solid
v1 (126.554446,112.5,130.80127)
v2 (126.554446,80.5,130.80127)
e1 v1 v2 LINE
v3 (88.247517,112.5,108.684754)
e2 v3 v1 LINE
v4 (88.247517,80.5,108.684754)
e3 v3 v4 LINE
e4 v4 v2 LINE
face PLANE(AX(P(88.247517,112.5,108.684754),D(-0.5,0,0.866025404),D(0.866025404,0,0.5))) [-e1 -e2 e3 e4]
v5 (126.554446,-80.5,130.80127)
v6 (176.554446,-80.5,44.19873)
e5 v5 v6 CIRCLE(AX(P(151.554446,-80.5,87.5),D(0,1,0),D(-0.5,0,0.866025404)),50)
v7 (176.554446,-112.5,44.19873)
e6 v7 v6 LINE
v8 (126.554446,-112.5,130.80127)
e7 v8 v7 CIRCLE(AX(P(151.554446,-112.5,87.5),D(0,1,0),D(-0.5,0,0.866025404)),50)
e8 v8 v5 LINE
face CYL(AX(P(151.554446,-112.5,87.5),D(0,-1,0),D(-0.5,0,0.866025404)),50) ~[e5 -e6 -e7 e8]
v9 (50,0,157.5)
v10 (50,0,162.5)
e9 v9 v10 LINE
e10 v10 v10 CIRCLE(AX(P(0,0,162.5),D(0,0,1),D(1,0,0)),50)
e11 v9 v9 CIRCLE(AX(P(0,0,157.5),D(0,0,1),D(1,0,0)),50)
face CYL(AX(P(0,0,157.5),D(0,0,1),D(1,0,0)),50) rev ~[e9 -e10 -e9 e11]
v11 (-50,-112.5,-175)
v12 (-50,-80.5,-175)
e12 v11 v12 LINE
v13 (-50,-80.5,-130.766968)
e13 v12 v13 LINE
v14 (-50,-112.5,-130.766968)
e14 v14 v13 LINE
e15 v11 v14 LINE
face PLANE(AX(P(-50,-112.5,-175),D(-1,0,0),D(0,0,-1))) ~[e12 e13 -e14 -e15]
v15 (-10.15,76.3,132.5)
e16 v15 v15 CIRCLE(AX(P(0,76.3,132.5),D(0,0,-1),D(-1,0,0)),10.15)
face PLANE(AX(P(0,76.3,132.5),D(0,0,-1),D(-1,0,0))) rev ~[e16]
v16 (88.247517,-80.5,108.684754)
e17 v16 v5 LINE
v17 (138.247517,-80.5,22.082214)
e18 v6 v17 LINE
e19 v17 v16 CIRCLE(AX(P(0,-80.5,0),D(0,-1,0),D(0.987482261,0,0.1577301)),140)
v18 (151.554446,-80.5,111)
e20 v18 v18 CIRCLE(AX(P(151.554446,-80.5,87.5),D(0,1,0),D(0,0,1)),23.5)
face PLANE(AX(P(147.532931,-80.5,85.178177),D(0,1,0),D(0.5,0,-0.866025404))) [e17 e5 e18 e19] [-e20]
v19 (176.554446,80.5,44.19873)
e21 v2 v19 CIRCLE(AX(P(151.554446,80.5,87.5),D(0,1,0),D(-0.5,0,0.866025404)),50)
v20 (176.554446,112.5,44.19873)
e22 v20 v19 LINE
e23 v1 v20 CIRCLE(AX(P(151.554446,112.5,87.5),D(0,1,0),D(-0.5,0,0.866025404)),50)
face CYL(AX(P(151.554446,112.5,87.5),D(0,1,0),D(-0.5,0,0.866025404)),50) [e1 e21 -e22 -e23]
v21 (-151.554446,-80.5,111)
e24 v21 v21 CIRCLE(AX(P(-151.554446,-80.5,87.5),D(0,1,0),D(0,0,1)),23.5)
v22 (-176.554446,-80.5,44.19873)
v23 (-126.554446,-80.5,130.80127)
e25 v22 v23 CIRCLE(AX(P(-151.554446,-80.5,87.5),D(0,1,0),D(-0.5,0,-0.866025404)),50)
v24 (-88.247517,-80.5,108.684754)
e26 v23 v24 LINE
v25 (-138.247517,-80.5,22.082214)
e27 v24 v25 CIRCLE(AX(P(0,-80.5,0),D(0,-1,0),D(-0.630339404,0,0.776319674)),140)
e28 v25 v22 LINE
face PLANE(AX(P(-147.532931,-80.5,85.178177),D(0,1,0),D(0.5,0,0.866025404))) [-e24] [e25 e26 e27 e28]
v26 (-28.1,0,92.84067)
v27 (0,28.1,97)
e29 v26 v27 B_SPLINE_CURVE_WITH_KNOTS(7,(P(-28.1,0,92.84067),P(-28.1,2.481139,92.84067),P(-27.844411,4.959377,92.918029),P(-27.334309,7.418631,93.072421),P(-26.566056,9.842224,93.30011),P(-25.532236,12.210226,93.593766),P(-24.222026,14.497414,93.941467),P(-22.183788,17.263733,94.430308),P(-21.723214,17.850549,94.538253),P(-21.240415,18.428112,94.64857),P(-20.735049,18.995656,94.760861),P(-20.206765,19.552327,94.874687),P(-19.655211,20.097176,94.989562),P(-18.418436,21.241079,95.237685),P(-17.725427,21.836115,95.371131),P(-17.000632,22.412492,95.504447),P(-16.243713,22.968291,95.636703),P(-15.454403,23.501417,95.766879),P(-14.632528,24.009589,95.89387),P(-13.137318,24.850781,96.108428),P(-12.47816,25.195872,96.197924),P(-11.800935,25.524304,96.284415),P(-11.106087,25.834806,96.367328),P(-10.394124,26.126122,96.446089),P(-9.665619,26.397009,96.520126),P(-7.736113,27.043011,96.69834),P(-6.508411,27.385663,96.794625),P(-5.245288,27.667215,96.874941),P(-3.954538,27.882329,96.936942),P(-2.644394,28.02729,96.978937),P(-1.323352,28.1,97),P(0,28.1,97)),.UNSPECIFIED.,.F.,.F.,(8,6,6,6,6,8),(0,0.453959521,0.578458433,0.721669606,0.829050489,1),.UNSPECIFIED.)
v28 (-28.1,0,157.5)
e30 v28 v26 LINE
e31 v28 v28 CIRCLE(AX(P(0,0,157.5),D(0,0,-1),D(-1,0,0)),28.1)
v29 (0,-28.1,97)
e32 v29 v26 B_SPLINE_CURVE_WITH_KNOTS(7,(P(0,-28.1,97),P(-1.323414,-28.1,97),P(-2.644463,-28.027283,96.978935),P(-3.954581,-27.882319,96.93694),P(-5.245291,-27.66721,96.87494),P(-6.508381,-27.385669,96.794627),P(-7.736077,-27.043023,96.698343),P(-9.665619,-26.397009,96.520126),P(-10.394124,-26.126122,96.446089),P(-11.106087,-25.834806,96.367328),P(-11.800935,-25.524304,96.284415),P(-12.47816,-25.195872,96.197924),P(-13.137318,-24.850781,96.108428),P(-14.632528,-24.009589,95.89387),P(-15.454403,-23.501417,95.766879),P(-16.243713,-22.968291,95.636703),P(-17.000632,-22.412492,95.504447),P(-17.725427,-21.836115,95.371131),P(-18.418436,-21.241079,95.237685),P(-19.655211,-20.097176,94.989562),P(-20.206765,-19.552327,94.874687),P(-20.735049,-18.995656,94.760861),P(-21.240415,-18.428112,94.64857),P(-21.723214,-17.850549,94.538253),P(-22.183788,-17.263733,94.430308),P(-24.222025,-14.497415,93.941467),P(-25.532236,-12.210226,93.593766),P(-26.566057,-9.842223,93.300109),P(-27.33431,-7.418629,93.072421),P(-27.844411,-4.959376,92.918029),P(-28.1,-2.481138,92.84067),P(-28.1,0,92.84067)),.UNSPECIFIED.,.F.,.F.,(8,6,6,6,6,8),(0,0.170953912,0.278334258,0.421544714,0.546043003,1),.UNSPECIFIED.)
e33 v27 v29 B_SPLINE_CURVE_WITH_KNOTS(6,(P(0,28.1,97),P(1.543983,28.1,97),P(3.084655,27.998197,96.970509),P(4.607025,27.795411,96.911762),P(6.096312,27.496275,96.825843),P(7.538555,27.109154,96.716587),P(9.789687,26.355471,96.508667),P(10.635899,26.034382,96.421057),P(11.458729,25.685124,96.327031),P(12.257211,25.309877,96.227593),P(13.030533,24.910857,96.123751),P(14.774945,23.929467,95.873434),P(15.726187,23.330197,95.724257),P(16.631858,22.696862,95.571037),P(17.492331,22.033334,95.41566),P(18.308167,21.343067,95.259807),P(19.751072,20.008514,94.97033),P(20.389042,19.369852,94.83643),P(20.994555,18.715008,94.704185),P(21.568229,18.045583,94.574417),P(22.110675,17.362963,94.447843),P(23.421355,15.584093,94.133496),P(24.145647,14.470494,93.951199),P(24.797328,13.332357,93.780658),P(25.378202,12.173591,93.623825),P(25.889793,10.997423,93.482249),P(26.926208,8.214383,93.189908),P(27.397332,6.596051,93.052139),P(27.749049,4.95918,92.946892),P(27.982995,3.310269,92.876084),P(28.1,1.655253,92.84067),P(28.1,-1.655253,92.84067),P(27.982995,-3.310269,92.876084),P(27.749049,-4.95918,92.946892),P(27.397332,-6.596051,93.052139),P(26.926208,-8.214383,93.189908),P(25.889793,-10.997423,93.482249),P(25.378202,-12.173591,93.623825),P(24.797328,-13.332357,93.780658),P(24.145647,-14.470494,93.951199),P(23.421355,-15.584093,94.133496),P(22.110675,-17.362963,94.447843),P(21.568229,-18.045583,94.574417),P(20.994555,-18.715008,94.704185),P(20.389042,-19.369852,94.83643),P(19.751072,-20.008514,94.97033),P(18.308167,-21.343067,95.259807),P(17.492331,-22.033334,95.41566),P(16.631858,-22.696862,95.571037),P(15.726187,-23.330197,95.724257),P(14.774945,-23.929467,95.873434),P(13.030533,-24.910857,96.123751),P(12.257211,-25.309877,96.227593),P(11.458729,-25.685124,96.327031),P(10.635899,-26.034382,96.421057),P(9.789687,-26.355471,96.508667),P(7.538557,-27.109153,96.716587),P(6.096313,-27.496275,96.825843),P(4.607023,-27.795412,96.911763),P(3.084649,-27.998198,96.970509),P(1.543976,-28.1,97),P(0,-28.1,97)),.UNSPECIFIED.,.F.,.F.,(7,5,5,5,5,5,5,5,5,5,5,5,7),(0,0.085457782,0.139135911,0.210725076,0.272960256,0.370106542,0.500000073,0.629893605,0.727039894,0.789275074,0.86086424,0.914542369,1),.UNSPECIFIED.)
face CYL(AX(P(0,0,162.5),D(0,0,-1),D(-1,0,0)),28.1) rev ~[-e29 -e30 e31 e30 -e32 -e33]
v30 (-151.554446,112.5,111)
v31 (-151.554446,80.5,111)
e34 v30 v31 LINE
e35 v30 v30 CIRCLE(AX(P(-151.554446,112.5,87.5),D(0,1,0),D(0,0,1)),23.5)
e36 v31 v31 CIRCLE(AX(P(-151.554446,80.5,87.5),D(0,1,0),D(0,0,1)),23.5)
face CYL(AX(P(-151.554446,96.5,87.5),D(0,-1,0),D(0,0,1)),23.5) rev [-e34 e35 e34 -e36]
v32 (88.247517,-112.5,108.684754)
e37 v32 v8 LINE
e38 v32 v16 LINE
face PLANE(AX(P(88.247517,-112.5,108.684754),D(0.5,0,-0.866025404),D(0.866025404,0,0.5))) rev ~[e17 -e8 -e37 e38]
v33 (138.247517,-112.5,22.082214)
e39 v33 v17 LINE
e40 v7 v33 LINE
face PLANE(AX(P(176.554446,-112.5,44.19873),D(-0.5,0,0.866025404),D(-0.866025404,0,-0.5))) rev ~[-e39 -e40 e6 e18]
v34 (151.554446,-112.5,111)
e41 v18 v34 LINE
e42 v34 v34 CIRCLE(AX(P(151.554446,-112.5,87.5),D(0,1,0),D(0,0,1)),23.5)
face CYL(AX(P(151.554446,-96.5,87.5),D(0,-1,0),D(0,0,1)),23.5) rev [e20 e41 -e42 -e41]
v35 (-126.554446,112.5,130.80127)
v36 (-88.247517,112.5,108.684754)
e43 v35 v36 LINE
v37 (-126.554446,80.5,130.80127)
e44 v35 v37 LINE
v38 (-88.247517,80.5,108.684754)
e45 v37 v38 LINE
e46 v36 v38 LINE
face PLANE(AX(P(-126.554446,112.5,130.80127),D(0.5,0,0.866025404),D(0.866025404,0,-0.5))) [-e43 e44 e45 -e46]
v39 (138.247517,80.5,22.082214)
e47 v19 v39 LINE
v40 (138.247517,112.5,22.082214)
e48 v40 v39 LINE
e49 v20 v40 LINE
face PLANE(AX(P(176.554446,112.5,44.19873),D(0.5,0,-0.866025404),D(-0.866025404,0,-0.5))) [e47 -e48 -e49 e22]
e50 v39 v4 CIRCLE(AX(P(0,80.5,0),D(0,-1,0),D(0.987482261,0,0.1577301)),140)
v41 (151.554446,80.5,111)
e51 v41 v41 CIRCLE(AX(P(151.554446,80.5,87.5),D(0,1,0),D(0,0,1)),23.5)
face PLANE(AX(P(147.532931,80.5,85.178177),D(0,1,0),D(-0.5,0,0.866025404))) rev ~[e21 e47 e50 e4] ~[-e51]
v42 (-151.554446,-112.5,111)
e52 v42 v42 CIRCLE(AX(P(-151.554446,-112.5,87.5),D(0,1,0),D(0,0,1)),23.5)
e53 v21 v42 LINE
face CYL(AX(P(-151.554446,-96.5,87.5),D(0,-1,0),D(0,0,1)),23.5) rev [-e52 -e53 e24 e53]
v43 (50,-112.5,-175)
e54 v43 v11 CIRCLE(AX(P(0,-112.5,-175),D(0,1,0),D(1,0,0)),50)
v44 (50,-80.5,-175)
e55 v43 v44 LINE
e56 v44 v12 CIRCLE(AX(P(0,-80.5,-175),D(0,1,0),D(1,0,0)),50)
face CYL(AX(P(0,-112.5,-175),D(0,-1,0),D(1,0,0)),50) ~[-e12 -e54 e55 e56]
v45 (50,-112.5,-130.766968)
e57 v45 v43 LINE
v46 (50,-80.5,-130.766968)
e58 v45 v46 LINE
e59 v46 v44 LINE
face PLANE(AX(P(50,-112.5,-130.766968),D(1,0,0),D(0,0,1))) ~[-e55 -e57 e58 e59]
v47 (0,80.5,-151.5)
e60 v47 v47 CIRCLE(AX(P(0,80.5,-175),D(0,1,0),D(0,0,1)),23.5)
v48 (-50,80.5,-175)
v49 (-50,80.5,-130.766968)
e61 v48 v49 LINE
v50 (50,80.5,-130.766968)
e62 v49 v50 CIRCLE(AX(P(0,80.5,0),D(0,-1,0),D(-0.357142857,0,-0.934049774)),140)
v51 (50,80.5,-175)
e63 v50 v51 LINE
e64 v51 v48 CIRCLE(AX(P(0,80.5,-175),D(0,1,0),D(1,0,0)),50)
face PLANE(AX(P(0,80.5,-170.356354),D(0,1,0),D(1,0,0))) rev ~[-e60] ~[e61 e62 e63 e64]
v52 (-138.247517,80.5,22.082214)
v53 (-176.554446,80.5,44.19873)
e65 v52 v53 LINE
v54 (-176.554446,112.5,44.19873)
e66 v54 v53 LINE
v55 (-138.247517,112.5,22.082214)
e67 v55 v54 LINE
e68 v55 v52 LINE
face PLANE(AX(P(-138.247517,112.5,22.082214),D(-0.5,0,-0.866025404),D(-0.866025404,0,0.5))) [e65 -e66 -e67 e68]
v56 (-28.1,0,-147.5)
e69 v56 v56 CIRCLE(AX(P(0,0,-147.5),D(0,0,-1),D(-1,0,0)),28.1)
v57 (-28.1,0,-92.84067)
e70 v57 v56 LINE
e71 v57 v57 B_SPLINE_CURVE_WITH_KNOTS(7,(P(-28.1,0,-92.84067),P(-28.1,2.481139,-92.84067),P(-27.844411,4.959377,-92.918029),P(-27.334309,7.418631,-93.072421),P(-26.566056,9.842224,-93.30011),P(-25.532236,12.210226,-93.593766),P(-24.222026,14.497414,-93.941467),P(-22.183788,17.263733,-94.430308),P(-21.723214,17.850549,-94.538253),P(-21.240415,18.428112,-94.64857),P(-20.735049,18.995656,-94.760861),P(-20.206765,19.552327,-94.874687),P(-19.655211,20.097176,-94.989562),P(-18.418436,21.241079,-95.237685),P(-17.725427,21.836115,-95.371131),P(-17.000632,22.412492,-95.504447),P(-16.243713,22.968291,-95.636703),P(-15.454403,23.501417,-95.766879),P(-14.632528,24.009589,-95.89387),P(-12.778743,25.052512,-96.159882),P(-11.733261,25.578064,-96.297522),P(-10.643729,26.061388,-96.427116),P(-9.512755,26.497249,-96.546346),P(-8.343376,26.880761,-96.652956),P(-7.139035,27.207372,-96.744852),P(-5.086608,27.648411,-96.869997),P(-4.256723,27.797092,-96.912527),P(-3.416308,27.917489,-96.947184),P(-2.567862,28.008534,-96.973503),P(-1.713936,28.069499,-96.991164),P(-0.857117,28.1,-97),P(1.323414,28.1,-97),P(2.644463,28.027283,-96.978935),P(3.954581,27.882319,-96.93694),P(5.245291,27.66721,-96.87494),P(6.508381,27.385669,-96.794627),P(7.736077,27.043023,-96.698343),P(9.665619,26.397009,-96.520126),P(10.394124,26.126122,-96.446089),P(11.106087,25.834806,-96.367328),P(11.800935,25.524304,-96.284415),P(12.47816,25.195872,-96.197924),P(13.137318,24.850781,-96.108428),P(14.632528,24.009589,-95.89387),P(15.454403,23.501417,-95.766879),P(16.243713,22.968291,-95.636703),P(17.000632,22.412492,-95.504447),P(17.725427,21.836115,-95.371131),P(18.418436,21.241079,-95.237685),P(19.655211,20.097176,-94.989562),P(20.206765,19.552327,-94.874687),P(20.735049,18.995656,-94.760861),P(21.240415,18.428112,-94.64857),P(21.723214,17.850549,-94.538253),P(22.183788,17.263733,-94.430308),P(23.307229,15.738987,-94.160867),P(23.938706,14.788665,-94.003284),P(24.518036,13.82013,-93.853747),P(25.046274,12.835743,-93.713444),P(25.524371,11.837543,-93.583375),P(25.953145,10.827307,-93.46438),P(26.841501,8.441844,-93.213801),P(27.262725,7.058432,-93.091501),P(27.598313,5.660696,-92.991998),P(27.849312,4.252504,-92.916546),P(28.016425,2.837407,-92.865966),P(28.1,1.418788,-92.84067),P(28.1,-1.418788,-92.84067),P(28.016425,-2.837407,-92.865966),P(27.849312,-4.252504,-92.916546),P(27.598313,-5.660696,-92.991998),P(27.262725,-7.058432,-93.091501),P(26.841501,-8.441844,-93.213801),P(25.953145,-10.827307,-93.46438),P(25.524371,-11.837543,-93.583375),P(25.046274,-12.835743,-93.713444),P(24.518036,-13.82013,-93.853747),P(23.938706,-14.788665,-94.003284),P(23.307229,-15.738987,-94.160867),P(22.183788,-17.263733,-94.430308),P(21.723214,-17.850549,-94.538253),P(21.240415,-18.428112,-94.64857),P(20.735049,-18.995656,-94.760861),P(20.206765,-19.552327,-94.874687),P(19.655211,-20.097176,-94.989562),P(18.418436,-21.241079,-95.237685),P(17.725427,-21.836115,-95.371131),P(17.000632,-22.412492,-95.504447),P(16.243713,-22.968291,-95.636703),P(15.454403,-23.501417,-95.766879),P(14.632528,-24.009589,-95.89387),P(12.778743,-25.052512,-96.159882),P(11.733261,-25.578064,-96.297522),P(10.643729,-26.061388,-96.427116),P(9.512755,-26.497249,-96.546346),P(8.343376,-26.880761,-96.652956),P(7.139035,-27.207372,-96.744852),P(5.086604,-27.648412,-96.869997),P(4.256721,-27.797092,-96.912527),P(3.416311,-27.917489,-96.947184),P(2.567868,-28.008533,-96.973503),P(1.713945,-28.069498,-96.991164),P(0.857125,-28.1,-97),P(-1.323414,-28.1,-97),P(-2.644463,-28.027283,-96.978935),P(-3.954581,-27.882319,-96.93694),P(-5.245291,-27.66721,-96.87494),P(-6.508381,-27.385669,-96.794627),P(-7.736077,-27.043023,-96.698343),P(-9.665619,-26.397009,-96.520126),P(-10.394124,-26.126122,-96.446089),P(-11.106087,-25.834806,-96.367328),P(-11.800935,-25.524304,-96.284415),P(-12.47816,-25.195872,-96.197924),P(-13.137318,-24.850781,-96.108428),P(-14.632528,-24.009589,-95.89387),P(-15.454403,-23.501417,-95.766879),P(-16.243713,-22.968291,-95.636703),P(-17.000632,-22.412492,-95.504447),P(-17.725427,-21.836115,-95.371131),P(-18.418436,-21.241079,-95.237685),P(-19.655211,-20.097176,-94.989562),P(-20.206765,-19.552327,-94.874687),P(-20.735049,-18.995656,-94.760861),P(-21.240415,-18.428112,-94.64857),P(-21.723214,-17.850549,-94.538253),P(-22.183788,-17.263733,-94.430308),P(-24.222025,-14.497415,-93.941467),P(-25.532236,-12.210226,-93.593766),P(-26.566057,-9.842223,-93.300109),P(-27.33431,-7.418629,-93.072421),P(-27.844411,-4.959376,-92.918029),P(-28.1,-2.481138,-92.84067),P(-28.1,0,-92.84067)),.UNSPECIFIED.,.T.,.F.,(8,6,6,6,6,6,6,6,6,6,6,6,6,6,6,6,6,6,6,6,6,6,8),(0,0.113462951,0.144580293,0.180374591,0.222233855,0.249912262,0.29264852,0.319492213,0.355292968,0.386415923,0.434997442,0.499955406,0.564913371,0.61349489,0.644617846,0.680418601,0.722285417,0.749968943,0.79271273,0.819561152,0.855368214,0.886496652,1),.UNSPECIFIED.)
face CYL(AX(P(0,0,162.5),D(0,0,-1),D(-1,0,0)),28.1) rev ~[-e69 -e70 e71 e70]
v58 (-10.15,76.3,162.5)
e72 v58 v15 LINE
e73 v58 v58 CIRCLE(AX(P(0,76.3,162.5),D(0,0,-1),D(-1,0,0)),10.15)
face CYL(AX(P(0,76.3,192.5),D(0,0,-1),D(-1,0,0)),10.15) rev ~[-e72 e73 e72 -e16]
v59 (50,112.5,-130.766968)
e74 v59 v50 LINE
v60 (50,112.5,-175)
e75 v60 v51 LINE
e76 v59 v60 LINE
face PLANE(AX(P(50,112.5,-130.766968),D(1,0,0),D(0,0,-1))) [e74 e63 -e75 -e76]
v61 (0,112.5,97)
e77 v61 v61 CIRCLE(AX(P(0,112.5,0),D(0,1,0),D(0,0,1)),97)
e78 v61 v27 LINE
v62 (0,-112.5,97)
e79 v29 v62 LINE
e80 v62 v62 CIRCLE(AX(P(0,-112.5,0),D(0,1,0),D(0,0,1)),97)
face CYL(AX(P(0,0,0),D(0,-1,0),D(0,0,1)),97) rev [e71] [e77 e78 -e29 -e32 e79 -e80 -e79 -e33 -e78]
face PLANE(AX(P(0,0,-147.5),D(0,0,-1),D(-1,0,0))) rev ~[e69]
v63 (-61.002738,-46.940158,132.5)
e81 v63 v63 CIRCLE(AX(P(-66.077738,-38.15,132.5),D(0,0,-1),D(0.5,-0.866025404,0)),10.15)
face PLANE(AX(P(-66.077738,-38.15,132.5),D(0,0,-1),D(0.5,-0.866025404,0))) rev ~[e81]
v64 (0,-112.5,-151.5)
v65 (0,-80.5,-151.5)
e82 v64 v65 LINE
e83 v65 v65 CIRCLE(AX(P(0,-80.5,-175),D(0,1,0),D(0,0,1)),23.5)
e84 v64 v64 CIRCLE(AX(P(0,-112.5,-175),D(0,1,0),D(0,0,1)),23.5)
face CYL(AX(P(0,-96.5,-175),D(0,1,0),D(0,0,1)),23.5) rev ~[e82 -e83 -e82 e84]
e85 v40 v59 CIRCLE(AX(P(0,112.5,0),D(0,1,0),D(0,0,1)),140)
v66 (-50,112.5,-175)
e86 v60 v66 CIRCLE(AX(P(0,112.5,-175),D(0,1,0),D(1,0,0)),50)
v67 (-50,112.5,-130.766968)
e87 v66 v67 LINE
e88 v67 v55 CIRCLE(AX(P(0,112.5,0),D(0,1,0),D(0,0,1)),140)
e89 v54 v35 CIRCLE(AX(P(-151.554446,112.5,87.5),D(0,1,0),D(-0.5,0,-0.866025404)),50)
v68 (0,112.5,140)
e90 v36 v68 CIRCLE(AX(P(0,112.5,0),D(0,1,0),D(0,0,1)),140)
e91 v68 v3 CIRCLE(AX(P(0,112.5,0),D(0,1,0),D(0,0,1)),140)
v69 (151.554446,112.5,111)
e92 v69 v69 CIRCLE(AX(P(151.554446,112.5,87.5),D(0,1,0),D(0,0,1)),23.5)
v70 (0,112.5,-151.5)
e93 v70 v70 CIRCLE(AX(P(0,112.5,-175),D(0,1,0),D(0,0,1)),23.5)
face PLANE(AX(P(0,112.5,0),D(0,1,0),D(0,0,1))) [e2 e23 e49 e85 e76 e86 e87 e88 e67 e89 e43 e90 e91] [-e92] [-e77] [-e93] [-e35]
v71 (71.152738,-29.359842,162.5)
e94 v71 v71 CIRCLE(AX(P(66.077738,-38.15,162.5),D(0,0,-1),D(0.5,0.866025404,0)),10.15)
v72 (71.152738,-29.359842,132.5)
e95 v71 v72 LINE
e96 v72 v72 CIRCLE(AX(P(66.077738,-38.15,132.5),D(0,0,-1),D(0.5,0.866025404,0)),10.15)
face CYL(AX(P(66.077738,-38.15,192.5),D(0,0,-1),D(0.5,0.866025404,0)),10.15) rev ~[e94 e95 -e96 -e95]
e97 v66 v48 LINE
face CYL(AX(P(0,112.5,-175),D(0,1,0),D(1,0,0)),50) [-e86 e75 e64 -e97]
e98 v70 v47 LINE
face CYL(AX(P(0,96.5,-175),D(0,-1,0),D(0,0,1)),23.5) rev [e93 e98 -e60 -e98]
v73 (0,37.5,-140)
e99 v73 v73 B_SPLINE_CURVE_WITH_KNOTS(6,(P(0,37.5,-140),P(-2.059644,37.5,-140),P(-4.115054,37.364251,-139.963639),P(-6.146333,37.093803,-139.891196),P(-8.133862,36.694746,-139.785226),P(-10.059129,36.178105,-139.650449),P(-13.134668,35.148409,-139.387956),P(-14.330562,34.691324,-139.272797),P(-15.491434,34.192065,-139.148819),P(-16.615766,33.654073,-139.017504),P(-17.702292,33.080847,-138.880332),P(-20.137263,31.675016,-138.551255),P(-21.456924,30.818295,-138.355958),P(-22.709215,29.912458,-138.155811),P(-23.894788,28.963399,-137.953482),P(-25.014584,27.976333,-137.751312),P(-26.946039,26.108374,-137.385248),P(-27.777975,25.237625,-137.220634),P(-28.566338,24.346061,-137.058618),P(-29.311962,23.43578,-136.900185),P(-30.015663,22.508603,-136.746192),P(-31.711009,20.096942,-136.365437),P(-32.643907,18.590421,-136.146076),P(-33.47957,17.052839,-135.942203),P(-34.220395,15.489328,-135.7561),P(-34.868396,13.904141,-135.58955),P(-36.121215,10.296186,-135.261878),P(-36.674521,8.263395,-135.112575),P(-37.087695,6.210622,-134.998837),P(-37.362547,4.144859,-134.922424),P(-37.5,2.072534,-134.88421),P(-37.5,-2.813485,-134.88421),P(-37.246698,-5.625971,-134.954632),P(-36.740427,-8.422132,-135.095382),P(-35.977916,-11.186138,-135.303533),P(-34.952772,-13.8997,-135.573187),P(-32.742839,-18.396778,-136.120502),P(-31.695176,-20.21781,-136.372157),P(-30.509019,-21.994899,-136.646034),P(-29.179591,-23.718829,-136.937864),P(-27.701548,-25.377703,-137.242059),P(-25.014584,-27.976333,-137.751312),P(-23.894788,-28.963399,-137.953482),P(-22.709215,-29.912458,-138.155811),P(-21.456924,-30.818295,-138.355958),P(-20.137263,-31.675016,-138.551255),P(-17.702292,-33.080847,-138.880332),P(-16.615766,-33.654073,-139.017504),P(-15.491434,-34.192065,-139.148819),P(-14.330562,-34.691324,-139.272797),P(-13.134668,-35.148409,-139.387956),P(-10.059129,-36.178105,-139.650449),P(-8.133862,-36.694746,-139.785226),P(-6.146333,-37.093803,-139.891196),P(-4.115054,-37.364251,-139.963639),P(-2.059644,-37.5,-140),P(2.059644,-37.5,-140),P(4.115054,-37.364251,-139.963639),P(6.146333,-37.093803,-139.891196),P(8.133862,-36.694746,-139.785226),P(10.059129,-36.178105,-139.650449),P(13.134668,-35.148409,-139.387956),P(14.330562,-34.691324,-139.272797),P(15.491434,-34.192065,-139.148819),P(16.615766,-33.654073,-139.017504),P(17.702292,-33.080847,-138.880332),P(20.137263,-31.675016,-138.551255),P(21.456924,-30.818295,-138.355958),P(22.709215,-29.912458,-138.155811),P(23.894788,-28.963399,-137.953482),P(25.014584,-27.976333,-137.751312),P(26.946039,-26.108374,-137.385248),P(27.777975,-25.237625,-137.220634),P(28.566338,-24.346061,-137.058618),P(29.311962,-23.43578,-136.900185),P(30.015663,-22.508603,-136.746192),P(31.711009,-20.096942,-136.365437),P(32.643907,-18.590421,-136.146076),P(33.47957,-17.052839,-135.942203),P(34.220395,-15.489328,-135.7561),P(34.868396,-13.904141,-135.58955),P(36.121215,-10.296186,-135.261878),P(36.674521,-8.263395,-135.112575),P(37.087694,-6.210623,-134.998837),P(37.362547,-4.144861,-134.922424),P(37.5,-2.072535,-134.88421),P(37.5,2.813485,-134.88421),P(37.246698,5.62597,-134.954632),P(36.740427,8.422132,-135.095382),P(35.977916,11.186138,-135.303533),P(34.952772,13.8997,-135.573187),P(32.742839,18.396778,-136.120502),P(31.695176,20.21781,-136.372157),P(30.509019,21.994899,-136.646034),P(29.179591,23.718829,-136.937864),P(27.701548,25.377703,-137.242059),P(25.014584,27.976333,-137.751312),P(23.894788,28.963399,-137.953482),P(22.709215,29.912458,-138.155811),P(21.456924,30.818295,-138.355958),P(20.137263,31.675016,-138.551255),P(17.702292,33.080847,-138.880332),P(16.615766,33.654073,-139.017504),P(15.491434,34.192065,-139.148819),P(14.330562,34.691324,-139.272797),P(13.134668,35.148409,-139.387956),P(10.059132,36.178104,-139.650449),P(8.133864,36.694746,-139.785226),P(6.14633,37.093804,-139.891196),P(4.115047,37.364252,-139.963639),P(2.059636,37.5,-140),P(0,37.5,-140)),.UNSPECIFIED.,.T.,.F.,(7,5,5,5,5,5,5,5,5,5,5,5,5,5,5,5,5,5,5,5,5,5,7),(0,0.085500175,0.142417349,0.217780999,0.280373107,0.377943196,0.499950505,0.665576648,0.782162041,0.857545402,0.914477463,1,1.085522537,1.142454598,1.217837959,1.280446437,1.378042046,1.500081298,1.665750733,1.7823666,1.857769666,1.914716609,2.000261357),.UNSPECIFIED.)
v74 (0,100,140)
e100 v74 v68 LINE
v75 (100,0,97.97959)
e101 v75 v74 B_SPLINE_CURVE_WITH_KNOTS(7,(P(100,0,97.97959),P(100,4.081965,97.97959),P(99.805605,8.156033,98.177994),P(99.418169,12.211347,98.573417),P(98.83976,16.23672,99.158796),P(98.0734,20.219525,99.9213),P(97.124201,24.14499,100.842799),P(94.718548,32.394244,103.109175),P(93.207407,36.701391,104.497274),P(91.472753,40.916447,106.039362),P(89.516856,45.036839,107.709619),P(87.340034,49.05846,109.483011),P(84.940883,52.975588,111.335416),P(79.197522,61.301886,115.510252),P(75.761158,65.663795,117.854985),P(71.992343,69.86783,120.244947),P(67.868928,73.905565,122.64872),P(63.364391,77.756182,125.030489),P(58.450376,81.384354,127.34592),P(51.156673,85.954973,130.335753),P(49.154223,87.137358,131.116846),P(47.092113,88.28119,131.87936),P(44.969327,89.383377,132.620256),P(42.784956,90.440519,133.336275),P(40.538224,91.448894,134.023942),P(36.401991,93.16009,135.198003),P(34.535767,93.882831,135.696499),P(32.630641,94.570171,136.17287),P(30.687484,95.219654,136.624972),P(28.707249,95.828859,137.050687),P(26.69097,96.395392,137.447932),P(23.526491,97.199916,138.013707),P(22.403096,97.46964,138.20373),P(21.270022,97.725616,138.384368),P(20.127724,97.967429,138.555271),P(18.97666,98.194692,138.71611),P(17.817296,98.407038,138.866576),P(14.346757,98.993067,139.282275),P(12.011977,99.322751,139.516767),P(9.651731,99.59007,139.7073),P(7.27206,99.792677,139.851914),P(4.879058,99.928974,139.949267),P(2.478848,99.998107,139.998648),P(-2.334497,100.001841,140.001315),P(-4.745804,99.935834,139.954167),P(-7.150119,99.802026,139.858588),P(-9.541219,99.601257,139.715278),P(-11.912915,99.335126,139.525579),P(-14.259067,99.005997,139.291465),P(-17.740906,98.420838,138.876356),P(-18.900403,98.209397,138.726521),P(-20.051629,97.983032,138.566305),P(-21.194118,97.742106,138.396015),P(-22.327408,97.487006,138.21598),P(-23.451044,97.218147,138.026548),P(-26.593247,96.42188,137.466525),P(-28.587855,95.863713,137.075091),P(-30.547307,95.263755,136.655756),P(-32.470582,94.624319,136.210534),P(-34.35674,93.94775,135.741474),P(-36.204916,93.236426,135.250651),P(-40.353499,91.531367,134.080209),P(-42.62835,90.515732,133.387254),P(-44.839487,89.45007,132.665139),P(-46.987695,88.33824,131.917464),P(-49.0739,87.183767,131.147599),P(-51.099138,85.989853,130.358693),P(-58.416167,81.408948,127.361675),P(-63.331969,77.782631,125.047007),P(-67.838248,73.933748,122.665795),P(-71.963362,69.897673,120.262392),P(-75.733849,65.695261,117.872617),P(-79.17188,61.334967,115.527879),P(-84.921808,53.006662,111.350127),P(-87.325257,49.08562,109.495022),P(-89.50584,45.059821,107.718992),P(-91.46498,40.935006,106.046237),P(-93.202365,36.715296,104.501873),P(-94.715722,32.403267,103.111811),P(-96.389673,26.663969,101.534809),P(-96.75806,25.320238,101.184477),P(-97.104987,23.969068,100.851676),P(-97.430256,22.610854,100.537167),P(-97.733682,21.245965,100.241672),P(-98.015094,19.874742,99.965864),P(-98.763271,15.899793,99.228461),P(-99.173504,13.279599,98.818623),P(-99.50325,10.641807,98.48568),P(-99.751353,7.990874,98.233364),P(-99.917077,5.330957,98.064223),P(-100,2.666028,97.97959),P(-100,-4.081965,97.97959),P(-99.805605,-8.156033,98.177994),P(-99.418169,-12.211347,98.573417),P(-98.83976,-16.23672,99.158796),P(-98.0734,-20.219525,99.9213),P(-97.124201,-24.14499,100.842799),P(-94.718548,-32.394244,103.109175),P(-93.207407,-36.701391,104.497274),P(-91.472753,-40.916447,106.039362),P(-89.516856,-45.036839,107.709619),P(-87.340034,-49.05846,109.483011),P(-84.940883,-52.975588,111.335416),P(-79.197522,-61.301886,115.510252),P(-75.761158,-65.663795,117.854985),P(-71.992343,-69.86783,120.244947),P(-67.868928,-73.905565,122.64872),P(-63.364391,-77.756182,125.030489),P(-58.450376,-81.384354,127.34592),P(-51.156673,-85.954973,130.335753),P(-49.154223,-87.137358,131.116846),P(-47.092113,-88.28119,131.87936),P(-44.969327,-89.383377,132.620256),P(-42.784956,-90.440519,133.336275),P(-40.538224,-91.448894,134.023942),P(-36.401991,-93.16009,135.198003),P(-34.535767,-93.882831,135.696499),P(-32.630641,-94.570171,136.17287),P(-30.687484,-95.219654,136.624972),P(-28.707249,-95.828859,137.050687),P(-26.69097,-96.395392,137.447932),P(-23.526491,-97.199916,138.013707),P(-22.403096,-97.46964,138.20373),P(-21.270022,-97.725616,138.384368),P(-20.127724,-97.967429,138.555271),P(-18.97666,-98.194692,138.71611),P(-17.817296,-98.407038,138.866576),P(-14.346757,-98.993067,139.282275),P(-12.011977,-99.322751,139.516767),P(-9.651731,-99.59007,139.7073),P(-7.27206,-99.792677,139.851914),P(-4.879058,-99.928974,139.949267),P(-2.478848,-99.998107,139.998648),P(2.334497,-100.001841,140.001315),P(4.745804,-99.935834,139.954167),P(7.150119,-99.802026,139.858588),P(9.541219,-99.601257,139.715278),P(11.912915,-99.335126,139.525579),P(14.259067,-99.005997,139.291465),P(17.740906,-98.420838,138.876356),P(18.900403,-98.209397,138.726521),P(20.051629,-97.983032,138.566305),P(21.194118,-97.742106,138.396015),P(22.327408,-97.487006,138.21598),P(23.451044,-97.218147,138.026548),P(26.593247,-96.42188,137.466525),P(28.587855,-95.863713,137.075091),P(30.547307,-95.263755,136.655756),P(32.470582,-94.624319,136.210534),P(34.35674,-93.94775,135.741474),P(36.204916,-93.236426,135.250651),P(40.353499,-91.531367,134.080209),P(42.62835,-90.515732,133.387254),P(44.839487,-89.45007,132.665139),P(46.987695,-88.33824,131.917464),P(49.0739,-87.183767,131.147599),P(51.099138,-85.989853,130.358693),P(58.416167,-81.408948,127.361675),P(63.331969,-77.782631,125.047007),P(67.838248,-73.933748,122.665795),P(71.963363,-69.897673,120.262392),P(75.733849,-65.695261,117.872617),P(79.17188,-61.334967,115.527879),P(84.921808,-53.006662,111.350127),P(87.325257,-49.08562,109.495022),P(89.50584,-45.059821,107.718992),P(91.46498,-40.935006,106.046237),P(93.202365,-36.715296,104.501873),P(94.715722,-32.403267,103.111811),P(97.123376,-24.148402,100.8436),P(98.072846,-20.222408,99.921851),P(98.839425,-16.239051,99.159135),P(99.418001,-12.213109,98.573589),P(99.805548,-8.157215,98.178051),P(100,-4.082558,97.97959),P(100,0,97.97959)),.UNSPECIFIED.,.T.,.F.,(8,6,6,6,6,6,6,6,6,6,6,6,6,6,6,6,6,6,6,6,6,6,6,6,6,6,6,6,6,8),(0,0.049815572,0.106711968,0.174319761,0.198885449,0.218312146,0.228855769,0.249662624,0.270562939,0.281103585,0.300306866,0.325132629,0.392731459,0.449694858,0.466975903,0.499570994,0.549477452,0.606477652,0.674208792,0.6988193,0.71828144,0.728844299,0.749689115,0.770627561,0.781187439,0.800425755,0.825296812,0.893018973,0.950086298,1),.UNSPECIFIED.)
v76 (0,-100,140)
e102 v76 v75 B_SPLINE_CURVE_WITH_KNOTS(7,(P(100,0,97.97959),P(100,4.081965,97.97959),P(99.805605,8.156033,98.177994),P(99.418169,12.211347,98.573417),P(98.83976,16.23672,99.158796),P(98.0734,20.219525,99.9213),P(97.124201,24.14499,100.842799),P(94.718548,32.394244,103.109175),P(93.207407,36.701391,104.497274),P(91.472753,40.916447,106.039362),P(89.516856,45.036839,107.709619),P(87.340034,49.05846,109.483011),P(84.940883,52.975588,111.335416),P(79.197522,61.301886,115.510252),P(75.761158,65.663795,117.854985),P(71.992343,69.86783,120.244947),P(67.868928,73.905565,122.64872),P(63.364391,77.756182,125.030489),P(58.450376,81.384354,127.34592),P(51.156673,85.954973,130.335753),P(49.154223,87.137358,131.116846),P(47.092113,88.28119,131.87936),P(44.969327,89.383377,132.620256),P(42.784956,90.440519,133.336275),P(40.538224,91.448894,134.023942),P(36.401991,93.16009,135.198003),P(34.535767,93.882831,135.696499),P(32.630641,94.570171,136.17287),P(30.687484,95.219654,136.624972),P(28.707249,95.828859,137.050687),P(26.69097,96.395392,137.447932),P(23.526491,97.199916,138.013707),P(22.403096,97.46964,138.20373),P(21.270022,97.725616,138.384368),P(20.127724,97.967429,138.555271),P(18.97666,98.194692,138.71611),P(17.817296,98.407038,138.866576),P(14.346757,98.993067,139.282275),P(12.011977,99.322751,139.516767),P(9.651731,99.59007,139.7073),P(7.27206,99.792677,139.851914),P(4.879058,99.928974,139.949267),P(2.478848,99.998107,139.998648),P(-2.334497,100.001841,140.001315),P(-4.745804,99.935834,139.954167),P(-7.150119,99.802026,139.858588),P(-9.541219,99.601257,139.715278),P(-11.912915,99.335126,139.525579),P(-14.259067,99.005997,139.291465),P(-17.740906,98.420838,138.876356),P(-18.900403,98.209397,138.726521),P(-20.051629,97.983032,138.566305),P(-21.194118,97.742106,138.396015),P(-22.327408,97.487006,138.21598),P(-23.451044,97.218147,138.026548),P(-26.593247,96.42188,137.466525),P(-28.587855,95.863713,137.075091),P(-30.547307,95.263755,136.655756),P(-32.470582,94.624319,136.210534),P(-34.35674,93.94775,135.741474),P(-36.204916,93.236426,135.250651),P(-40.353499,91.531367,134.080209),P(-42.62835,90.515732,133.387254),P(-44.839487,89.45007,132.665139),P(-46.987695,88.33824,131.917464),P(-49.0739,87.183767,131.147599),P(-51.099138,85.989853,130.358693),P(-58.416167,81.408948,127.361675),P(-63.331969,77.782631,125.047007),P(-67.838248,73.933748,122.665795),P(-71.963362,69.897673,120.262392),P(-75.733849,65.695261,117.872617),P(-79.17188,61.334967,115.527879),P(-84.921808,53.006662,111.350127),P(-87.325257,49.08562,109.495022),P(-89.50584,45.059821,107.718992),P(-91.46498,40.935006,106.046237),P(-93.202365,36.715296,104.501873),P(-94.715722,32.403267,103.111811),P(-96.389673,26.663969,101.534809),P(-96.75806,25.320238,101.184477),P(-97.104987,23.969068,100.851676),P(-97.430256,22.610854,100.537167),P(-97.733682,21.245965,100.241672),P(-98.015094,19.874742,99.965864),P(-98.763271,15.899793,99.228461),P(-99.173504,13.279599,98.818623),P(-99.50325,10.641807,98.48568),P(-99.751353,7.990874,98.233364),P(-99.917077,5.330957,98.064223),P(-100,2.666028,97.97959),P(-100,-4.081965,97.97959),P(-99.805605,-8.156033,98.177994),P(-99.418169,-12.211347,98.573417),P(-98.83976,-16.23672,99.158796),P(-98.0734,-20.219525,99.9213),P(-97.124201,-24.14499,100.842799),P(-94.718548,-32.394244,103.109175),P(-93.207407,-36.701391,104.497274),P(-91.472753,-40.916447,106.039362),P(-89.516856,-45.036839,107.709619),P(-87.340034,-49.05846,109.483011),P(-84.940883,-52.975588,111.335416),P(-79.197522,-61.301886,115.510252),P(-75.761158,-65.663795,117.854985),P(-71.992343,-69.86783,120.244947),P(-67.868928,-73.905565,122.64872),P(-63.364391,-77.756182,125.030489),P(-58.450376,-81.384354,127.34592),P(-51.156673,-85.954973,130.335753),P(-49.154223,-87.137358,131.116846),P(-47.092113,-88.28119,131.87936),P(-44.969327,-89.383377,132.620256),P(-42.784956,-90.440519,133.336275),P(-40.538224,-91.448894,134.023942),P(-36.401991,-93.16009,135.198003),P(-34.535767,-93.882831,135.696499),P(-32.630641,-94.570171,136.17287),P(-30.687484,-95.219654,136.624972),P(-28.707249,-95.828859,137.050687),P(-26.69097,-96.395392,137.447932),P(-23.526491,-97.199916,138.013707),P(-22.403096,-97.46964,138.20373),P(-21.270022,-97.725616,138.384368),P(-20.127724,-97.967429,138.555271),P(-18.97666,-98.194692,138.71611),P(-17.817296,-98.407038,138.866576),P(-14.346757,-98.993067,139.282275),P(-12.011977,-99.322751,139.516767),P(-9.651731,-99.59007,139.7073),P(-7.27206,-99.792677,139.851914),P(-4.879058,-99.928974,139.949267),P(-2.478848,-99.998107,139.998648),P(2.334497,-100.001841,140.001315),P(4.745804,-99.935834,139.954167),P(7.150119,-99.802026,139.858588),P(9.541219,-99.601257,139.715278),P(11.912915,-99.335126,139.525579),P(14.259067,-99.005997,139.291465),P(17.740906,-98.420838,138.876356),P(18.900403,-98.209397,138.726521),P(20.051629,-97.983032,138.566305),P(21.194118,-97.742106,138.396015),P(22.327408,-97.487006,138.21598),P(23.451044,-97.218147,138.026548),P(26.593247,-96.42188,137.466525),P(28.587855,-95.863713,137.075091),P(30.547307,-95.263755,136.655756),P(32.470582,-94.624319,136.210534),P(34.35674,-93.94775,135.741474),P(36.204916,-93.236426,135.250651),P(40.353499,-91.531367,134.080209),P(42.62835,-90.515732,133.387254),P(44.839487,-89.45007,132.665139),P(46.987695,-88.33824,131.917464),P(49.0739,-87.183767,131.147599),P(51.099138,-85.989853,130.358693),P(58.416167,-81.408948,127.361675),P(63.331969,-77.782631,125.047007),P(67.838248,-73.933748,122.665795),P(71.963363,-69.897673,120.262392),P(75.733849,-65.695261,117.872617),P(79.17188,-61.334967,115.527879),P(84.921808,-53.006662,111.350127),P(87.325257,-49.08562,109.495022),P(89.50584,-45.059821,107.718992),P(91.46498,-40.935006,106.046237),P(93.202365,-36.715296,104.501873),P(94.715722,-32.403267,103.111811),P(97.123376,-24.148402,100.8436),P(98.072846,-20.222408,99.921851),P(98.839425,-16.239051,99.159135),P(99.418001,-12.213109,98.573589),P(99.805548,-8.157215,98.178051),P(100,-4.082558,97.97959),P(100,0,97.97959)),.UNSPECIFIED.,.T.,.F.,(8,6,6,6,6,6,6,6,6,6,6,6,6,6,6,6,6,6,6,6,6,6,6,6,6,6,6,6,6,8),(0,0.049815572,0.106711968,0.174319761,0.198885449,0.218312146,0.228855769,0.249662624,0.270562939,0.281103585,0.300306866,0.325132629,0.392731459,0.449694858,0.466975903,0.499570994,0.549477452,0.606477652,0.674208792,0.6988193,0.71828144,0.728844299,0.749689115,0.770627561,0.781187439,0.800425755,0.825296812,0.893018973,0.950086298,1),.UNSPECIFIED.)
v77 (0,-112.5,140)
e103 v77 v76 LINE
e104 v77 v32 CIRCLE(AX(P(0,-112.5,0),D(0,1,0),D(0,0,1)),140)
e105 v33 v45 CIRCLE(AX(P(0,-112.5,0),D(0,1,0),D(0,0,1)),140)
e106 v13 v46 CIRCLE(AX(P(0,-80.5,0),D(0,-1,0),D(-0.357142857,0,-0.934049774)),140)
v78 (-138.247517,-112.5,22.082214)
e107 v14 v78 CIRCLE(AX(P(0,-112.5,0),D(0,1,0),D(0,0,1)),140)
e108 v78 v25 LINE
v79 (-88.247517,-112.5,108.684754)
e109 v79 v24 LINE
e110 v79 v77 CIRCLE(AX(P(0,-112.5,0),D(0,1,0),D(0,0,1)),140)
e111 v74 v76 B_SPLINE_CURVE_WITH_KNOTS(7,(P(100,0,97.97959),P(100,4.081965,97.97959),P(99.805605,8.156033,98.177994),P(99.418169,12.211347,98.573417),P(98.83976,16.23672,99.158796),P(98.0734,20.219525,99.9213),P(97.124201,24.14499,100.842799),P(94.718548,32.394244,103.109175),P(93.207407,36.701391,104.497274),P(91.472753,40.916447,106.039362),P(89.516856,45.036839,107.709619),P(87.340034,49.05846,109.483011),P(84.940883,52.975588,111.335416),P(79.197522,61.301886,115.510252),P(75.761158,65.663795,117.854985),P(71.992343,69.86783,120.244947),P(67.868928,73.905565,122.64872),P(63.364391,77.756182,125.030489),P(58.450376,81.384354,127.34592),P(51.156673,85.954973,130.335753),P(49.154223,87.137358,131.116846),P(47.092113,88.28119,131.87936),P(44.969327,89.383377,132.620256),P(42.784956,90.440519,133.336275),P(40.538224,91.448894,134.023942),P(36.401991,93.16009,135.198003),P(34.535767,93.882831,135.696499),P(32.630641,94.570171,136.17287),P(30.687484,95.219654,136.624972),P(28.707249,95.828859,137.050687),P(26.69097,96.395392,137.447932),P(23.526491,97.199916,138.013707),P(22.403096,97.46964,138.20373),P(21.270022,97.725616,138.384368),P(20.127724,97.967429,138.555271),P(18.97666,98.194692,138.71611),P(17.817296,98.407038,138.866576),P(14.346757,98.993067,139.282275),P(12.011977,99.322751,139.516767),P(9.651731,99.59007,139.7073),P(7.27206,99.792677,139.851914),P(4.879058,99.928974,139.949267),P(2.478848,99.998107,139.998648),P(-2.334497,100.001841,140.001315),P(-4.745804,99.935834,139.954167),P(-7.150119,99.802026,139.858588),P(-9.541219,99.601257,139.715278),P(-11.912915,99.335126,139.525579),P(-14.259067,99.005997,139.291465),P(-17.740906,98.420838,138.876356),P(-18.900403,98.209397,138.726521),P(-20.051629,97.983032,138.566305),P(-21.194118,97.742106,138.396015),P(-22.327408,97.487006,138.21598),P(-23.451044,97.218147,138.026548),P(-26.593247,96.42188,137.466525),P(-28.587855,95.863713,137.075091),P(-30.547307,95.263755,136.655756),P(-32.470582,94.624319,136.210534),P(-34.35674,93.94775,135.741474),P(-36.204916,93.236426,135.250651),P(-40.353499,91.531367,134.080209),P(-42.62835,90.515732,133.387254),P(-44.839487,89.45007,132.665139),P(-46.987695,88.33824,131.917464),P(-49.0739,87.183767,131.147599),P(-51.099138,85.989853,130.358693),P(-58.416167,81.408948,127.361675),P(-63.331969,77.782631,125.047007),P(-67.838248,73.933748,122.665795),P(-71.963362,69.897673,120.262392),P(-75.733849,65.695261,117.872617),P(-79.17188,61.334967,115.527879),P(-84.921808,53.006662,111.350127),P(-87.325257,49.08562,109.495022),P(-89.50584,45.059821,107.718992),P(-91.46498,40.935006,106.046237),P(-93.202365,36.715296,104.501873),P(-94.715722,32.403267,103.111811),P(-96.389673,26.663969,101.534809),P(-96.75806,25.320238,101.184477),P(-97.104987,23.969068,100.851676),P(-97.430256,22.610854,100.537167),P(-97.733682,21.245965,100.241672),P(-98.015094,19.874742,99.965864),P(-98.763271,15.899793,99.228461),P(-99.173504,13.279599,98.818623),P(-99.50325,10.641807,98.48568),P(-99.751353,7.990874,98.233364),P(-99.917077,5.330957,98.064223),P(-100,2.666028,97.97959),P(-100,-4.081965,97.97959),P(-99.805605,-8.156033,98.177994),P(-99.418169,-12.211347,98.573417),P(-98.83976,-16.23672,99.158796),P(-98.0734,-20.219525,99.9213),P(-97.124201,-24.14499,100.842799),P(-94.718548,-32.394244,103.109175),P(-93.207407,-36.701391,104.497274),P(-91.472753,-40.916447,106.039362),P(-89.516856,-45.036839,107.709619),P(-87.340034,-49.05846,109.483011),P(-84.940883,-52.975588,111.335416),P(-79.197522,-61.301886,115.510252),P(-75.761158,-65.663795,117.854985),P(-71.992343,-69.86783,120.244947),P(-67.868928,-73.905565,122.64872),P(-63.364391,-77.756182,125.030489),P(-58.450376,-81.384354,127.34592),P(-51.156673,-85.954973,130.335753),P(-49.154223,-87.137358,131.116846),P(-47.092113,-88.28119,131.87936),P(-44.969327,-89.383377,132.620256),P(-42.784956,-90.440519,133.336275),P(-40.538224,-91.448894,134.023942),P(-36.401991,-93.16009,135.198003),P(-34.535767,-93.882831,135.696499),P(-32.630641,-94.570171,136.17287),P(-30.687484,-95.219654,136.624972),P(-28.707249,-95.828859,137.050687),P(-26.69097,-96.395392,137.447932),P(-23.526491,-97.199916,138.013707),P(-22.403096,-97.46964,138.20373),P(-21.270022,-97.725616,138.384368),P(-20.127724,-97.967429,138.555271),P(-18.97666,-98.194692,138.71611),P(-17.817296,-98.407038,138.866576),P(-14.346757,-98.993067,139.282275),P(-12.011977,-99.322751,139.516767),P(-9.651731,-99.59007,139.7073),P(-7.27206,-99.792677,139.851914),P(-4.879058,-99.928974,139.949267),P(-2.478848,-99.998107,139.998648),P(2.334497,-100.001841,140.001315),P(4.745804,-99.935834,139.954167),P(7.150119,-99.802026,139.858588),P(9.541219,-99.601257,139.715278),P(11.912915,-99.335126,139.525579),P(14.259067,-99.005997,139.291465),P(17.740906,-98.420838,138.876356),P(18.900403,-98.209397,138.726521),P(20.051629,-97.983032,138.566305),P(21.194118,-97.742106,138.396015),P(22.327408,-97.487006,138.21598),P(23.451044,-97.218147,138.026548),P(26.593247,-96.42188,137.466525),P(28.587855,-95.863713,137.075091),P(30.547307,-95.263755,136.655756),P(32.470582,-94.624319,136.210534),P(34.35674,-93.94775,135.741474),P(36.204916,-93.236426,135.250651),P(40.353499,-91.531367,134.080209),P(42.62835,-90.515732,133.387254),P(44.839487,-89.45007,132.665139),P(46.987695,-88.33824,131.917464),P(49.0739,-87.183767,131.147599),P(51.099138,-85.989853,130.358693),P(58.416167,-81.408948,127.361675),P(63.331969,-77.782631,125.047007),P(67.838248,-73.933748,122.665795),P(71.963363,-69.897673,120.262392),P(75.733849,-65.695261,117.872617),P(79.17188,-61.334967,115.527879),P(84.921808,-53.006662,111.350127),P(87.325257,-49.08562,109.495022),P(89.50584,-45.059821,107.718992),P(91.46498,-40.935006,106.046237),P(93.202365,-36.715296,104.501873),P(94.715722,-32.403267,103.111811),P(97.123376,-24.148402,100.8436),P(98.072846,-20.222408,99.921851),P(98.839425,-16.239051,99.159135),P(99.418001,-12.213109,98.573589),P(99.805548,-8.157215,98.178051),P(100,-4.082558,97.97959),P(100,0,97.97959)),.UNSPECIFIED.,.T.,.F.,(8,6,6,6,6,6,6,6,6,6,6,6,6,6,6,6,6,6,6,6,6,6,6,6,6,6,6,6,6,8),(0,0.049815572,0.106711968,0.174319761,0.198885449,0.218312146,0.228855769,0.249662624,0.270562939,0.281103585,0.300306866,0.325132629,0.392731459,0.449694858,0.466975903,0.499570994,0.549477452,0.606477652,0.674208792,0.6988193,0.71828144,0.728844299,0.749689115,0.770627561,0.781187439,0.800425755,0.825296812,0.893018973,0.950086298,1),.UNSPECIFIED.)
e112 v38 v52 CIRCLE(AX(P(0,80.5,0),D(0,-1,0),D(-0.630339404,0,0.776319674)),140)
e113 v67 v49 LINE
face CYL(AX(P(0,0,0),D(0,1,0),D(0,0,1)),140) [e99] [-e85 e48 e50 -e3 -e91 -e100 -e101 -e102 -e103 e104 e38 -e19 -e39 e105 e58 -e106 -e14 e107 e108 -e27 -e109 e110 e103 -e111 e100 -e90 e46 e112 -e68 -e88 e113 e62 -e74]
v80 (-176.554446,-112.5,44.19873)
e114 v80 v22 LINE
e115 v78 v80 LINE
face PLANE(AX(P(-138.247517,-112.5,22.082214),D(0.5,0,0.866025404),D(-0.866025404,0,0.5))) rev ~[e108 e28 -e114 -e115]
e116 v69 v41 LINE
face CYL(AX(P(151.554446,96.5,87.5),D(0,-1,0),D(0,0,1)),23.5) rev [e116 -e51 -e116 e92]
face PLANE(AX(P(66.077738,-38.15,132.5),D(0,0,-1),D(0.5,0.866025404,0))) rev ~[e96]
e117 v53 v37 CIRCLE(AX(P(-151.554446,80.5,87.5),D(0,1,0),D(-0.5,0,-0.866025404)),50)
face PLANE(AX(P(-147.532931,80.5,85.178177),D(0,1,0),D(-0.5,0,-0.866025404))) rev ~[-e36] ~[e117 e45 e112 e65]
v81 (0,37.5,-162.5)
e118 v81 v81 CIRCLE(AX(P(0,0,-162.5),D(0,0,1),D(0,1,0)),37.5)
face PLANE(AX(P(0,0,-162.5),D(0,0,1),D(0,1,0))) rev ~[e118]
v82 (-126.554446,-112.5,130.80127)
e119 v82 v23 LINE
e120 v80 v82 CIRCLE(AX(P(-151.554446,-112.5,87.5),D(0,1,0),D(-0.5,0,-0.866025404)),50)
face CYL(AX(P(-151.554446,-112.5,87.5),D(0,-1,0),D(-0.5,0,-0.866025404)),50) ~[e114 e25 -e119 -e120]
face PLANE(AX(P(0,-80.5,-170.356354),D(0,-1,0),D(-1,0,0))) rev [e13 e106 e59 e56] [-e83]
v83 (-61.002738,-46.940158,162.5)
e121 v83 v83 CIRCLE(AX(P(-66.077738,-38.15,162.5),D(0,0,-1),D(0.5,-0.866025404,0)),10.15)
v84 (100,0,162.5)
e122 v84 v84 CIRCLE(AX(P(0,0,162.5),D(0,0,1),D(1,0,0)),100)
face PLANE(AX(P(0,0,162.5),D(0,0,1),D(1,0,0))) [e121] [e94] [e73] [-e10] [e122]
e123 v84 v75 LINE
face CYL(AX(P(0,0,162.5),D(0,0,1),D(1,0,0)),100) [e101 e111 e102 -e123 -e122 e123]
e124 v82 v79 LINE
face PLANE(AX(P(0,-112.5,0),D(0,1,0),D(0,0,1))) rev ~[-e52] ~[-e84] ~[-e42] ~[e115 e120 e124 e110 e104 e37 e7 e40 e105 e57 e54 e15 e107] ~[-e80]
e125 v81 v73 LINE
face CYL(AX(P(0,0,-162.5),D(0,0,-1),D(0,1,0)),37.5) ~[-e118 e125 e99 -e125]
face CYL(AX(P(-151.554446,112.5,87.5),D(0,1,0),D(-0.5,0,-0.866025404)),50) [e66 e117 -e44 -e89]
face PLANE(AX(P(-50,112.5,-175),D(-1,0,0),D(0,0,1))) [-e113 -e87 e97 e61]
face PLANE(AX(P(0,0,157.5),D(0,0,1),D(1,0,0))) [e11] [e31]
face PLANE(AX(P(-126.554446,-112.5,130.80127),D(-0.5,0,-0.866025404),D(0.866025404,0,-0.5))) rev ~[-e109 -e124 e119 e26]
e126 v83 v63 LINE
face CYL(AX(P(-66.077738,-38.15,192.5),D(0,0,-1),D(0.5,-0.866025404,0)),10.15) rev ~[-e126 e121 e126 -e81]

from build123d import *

# Parameters (mm, degrees)
SKETCH1_R                = 140
SKETCH1_R_2              = 97
BOSS_EXTRUDE1_DEPTH      = 112.5
BOSS_EXTRUDE2_REACH      = 353.799
BOSS_EXTRUDE2_END_RADIUS = 140
SKETCH2_R                = 100
BOSS_EXTRUDE3_REACH      = 373.324
BOSS_EXTRUDE3_END_RADIUS = 140
SKETCH3_R                = 37.5
HOLE1_D                  = 20.3
HOLE1_DEPTH              = 30
CIRPATTERN1_COUNT        = 3
HOLE2_D                  = 56.2
HOLE2_DEPTH              = 310
HOLE2_CBORE_D            = 100
HOLE2_CBORE_DEPTH        = 5
BOSS_EXTRUDE4_DEPTH      = 32
CIRPATTERN2_COUNT        = 3
SKETCH10_W               = 23.5
SKETCH10_H               = 32
HOLE3_AT_2_COUNT         = 2
HOLE3_AT_2_PITCH         = 303.108891325
HOLE3_AT_3_COUNT         = 2
HOLE3_AT_3_PITCH         = 303.108891325
MIRROR1_COPY_1_DEPTH     = 32
MIRROR1_COPY_2_DEPTH     = 32
MIRROR1_COPY_3_SKETCH_W  = 23.5
MIRROR1_COPY_3_SKETCH_H  = 32
MIRROR1_COPY_4_SKETCH_W  = 23.5
MIRROR1_COPY_4_SKETCH_H  = 32


with BuildPart() as part:
    # Sketch1 → Boss-Extrude1 (new, symmetric)
    with BuildSketch(Plane(origin=(0, 0, 0), x_dir=(1, 0, 0), z_dir=(0, 1, 0))):
        with Locations(Location((0, 0, 0), (0, 0, 270))):
            Circle(SKETCH1_R)
        with Locations(Location((0, 0, 0), (0, 0, 270))):
            Circle(SKETCH1_R_2, mode=Mode.SUBTRACT)
    extrude(amount=BOSS_EXTRUDE1_DEPTH, both=True)

    # Boss-Extrude2: up to this cylinder (the profile starts outside it)
    boss_extrude2_end = Plane(origin=(0, 0, 0), z_dir=(0, -1, 0)) * Cylinder(BOSS_EXTRUDE2_END_RADIUS, 988.598, mode=Mode.PRIVATE)
    # Sketch2 → Boss-Extrude2 (add, up to the surface)
    with BuildSketch(Plane.XY.offset(162.5), mode=Mode.PRIVATE) as boss_extrude2_sk1:
        Circle(SKETCH2_R)
    boss_extrude2_tool1 = extrude(boss_extrude2_sk1.sketch, amount=-BOSS_EXTRUDE2_REACH, mode=Mode.PRIVATE) - boss_extrude2_end
    add(boss_extrude2_tool1.solids().sort_by_distance((0, 0, 162.5))[0])

    # Boss-Extrude3: up to this cylinder (the profile starts outside it)
    boss_extrude3_end = Plane(origin=(0, 0, 0), z_dir=(0, -1, 0)) * Cylinder(BOSS_EXTRUDE3_END_RADIUS, 1027.648, mode=Mode.PRIVATE)
    # Sketch3 → Boss-Extrude3 (add, up to the surface)
    with BuildSketch(Plane.XY.offset(-162.5), mode=Mode.PRIVATE) as boss_extrude3_sk1:
        with Locations(Location((0, 0, 0), (0, 0, 90))):
            Circle(SKETCH3_R)
    boss_extrude3_tool1 = extrude(boss_extrude3_sk1.sketch, amount=BOSS_EXTRUDE3_REACH, mode=Mode.PRIVATE) - boss_extrude3_end
    add(boss_extrude3_tool1.solids().sort_by_distance((0, 0, -162.5))[0])

    # Hole1
    with Locations(Plane.XY.offset(162.5)):
        with Locations((0, 76.3)):
            hole1 = Hole(HOLE1_D / 2, depth=HOLE1_DEPTH)

    # CirPattern1: Hole1 ×3 about axis
    cirpattern1_axis = Axis((0, 0, 0), (0, 0, 1))
    for i in range(1, CIRPATTERN1_COUNT):
        add(hole1.rotate(cirpattern1_axis, i * 360 / CIRPATTERN1_COUNT), mode=Mode.SUBTRACT)

    # Hole2
    with Locations(Plane.XY.offset(162.5)):
        with Locations((0, 0)):
            CounterBoreHole(HOLE2_D / 2, HOLE2_CBORE_D / 2, HOLE2_CBORE_DEPTH, depth=HOLE2_DEPTH)

    # Sketch8 → Boss-Extrude4 (add)
    with BuildSketch(Plane(origin=(0, 112.5, 0), x_dir=(1, 0, 0), z_dir=(0, 1, 0))):
        with BuildLine():
            Line((-50, 175), (-50, 130.766968306))
            ThreePointArc((-50, 130.766968306), (0, 140), (50, 130.766968306))
            Line((50, 130.766968306), (50, 175))
            ThreePointArc((50, 175), (0, 225), (-50, 175))
        make_face()
    boss_extrude4 = extrude(amount=-BOSS_EXTRUDE4_DEPTH)

    # CirPattern2: Boss-Extrude4 ×3 about axis
    cirpattern2_axis = Axis((0, 0, 0), (0, 1, 0))
    for i in range(1, CIRPATTERN2_COUNT):
        add(boss_extrude4.rotate(cirpattern2_axis, i * 360 / CIRPATTERN2_COUNT))

    # Sketch10 → Hole3 (revolve, cut)
    with BuildSketch(Plane(origin=(0, 112.5, -175), x_dir=(0, 0, 1), z_dir=(1, 0, 0))):
        with Locations((11.75, 16)):
            Rectangle(SKETCH10_W, SKETCH10_H)
    hole3 = revolve(axis=Axis((0, 2.5, -175), (0, 1, 0)), mode=Mode.SUBTRACT)

    # Hole3 at 2: Hole3 ×2
    with Locations(*[Vector(-0.49999999999999806, 0, 0.8660254037844397) * (i * HOLE3_AT_2_PITCH) for i in range(1, HOLE3_AT_2_COUNT)]):
        add(hole3, mode=Mode.SUBTRACT)

    # Hole3 at 3: Hole3 ×2
    with Locations(*[Vector(0.500000000000004, 0, 0.8660254037844364) * (i * HOLE3_AT_3_PITCH) for i in range(1, HOLE3_AT_3_COUNT)]):
        add(hole3, mode=Mode.SUBTRACT)

    # Mirror1: Boss-Extrude4, Hole3 across plane
    add(boss_extrude4.mirror(Plane.ZX))
    add(hole3.mirror(Plane.ZX), mode=Mode.SUBTRACT)

    # Mirror1 copy 1 sketch → Mirror1 copy 1 (add)
    with BuildSketch(Plane(origin=(0, -112.5, 0), x_dir=(-0.4999999999999998, 0, -0.8660254037844387), z_dir=(0, -1, 0))):
        with BuildLine():
            Line((-50, -175), (-50, -130.766968306))
            ThreePointArc((-50, -130.766968306), (0, -140), (50, -130.766968306))
            Line((50, -130.766968306), (50, -175))
            ThreePointArc((50, -175), (0, -225), (-50, -175))
        make_face()
    extrude(amount=-MIRROR1_COPY_1_DEPTH)

    # Mirror1 copy 2 sketch → Mirror1 copy 2 (add)
    with BuildSketch(Plane(origin=(0, -112.5, 0), x_dir=(-0.5000000000000004, 0, 0.8660254037844384), z_dir=(0, -1, 0))):
        with BuildLine():
            Line((-50, -175), (-50, -130.766968306))
            ThreePointArc((-50, -130.766968306), (0, -140), (50, -130.766968306))
            Line((50, -130.766968306), (50, -175))
            ThreePointArc((50, -175), (0, -225), (-50, -175))
        make_face()
    extrude(amount=-MIRROR1_COPY_2_DEPTH)

    # Mirror1 copy 3 sketch → Mirror1 copy 3 (revolve, cut)
    with BuildSketch(Plane(origin=(-151.554445662, -112.5, 87.5), x_dir=(0, 0, 1), z_dir=(1, 0, 0))):
        with Locations((11.75, -16)):
            Rectangle(MIRROR1_COPY_3_SKETCH_W, MIRROR1_COPY_3_SKETCH_H)
    revolve(axis=Axis((-151.554445662, -2.5, 87.5), (0, 1, 0)), mode=Mode.SUBTRACT)

    # Mirror1 copy 4 sketch → Mirror1 copy 4 (revolve, cut)
    with BuildSketch(Plane(origin=(151.554445662, -112.5, 87.5), x_dir=(0, 0, 1), z_dir=(1, 0, 0))):
        with Locations((11.75, -16)):
            Rectangle(MIRROR1_COPY_4_SKETCH_W, MIRROR1_COPY_4_SKETCH_H)
    revolve(axis=Axis((151.554445662, -2.5, 87.5), (0, 1, 0)), mode=Mode.SUBTRACT)


solid = part.part
